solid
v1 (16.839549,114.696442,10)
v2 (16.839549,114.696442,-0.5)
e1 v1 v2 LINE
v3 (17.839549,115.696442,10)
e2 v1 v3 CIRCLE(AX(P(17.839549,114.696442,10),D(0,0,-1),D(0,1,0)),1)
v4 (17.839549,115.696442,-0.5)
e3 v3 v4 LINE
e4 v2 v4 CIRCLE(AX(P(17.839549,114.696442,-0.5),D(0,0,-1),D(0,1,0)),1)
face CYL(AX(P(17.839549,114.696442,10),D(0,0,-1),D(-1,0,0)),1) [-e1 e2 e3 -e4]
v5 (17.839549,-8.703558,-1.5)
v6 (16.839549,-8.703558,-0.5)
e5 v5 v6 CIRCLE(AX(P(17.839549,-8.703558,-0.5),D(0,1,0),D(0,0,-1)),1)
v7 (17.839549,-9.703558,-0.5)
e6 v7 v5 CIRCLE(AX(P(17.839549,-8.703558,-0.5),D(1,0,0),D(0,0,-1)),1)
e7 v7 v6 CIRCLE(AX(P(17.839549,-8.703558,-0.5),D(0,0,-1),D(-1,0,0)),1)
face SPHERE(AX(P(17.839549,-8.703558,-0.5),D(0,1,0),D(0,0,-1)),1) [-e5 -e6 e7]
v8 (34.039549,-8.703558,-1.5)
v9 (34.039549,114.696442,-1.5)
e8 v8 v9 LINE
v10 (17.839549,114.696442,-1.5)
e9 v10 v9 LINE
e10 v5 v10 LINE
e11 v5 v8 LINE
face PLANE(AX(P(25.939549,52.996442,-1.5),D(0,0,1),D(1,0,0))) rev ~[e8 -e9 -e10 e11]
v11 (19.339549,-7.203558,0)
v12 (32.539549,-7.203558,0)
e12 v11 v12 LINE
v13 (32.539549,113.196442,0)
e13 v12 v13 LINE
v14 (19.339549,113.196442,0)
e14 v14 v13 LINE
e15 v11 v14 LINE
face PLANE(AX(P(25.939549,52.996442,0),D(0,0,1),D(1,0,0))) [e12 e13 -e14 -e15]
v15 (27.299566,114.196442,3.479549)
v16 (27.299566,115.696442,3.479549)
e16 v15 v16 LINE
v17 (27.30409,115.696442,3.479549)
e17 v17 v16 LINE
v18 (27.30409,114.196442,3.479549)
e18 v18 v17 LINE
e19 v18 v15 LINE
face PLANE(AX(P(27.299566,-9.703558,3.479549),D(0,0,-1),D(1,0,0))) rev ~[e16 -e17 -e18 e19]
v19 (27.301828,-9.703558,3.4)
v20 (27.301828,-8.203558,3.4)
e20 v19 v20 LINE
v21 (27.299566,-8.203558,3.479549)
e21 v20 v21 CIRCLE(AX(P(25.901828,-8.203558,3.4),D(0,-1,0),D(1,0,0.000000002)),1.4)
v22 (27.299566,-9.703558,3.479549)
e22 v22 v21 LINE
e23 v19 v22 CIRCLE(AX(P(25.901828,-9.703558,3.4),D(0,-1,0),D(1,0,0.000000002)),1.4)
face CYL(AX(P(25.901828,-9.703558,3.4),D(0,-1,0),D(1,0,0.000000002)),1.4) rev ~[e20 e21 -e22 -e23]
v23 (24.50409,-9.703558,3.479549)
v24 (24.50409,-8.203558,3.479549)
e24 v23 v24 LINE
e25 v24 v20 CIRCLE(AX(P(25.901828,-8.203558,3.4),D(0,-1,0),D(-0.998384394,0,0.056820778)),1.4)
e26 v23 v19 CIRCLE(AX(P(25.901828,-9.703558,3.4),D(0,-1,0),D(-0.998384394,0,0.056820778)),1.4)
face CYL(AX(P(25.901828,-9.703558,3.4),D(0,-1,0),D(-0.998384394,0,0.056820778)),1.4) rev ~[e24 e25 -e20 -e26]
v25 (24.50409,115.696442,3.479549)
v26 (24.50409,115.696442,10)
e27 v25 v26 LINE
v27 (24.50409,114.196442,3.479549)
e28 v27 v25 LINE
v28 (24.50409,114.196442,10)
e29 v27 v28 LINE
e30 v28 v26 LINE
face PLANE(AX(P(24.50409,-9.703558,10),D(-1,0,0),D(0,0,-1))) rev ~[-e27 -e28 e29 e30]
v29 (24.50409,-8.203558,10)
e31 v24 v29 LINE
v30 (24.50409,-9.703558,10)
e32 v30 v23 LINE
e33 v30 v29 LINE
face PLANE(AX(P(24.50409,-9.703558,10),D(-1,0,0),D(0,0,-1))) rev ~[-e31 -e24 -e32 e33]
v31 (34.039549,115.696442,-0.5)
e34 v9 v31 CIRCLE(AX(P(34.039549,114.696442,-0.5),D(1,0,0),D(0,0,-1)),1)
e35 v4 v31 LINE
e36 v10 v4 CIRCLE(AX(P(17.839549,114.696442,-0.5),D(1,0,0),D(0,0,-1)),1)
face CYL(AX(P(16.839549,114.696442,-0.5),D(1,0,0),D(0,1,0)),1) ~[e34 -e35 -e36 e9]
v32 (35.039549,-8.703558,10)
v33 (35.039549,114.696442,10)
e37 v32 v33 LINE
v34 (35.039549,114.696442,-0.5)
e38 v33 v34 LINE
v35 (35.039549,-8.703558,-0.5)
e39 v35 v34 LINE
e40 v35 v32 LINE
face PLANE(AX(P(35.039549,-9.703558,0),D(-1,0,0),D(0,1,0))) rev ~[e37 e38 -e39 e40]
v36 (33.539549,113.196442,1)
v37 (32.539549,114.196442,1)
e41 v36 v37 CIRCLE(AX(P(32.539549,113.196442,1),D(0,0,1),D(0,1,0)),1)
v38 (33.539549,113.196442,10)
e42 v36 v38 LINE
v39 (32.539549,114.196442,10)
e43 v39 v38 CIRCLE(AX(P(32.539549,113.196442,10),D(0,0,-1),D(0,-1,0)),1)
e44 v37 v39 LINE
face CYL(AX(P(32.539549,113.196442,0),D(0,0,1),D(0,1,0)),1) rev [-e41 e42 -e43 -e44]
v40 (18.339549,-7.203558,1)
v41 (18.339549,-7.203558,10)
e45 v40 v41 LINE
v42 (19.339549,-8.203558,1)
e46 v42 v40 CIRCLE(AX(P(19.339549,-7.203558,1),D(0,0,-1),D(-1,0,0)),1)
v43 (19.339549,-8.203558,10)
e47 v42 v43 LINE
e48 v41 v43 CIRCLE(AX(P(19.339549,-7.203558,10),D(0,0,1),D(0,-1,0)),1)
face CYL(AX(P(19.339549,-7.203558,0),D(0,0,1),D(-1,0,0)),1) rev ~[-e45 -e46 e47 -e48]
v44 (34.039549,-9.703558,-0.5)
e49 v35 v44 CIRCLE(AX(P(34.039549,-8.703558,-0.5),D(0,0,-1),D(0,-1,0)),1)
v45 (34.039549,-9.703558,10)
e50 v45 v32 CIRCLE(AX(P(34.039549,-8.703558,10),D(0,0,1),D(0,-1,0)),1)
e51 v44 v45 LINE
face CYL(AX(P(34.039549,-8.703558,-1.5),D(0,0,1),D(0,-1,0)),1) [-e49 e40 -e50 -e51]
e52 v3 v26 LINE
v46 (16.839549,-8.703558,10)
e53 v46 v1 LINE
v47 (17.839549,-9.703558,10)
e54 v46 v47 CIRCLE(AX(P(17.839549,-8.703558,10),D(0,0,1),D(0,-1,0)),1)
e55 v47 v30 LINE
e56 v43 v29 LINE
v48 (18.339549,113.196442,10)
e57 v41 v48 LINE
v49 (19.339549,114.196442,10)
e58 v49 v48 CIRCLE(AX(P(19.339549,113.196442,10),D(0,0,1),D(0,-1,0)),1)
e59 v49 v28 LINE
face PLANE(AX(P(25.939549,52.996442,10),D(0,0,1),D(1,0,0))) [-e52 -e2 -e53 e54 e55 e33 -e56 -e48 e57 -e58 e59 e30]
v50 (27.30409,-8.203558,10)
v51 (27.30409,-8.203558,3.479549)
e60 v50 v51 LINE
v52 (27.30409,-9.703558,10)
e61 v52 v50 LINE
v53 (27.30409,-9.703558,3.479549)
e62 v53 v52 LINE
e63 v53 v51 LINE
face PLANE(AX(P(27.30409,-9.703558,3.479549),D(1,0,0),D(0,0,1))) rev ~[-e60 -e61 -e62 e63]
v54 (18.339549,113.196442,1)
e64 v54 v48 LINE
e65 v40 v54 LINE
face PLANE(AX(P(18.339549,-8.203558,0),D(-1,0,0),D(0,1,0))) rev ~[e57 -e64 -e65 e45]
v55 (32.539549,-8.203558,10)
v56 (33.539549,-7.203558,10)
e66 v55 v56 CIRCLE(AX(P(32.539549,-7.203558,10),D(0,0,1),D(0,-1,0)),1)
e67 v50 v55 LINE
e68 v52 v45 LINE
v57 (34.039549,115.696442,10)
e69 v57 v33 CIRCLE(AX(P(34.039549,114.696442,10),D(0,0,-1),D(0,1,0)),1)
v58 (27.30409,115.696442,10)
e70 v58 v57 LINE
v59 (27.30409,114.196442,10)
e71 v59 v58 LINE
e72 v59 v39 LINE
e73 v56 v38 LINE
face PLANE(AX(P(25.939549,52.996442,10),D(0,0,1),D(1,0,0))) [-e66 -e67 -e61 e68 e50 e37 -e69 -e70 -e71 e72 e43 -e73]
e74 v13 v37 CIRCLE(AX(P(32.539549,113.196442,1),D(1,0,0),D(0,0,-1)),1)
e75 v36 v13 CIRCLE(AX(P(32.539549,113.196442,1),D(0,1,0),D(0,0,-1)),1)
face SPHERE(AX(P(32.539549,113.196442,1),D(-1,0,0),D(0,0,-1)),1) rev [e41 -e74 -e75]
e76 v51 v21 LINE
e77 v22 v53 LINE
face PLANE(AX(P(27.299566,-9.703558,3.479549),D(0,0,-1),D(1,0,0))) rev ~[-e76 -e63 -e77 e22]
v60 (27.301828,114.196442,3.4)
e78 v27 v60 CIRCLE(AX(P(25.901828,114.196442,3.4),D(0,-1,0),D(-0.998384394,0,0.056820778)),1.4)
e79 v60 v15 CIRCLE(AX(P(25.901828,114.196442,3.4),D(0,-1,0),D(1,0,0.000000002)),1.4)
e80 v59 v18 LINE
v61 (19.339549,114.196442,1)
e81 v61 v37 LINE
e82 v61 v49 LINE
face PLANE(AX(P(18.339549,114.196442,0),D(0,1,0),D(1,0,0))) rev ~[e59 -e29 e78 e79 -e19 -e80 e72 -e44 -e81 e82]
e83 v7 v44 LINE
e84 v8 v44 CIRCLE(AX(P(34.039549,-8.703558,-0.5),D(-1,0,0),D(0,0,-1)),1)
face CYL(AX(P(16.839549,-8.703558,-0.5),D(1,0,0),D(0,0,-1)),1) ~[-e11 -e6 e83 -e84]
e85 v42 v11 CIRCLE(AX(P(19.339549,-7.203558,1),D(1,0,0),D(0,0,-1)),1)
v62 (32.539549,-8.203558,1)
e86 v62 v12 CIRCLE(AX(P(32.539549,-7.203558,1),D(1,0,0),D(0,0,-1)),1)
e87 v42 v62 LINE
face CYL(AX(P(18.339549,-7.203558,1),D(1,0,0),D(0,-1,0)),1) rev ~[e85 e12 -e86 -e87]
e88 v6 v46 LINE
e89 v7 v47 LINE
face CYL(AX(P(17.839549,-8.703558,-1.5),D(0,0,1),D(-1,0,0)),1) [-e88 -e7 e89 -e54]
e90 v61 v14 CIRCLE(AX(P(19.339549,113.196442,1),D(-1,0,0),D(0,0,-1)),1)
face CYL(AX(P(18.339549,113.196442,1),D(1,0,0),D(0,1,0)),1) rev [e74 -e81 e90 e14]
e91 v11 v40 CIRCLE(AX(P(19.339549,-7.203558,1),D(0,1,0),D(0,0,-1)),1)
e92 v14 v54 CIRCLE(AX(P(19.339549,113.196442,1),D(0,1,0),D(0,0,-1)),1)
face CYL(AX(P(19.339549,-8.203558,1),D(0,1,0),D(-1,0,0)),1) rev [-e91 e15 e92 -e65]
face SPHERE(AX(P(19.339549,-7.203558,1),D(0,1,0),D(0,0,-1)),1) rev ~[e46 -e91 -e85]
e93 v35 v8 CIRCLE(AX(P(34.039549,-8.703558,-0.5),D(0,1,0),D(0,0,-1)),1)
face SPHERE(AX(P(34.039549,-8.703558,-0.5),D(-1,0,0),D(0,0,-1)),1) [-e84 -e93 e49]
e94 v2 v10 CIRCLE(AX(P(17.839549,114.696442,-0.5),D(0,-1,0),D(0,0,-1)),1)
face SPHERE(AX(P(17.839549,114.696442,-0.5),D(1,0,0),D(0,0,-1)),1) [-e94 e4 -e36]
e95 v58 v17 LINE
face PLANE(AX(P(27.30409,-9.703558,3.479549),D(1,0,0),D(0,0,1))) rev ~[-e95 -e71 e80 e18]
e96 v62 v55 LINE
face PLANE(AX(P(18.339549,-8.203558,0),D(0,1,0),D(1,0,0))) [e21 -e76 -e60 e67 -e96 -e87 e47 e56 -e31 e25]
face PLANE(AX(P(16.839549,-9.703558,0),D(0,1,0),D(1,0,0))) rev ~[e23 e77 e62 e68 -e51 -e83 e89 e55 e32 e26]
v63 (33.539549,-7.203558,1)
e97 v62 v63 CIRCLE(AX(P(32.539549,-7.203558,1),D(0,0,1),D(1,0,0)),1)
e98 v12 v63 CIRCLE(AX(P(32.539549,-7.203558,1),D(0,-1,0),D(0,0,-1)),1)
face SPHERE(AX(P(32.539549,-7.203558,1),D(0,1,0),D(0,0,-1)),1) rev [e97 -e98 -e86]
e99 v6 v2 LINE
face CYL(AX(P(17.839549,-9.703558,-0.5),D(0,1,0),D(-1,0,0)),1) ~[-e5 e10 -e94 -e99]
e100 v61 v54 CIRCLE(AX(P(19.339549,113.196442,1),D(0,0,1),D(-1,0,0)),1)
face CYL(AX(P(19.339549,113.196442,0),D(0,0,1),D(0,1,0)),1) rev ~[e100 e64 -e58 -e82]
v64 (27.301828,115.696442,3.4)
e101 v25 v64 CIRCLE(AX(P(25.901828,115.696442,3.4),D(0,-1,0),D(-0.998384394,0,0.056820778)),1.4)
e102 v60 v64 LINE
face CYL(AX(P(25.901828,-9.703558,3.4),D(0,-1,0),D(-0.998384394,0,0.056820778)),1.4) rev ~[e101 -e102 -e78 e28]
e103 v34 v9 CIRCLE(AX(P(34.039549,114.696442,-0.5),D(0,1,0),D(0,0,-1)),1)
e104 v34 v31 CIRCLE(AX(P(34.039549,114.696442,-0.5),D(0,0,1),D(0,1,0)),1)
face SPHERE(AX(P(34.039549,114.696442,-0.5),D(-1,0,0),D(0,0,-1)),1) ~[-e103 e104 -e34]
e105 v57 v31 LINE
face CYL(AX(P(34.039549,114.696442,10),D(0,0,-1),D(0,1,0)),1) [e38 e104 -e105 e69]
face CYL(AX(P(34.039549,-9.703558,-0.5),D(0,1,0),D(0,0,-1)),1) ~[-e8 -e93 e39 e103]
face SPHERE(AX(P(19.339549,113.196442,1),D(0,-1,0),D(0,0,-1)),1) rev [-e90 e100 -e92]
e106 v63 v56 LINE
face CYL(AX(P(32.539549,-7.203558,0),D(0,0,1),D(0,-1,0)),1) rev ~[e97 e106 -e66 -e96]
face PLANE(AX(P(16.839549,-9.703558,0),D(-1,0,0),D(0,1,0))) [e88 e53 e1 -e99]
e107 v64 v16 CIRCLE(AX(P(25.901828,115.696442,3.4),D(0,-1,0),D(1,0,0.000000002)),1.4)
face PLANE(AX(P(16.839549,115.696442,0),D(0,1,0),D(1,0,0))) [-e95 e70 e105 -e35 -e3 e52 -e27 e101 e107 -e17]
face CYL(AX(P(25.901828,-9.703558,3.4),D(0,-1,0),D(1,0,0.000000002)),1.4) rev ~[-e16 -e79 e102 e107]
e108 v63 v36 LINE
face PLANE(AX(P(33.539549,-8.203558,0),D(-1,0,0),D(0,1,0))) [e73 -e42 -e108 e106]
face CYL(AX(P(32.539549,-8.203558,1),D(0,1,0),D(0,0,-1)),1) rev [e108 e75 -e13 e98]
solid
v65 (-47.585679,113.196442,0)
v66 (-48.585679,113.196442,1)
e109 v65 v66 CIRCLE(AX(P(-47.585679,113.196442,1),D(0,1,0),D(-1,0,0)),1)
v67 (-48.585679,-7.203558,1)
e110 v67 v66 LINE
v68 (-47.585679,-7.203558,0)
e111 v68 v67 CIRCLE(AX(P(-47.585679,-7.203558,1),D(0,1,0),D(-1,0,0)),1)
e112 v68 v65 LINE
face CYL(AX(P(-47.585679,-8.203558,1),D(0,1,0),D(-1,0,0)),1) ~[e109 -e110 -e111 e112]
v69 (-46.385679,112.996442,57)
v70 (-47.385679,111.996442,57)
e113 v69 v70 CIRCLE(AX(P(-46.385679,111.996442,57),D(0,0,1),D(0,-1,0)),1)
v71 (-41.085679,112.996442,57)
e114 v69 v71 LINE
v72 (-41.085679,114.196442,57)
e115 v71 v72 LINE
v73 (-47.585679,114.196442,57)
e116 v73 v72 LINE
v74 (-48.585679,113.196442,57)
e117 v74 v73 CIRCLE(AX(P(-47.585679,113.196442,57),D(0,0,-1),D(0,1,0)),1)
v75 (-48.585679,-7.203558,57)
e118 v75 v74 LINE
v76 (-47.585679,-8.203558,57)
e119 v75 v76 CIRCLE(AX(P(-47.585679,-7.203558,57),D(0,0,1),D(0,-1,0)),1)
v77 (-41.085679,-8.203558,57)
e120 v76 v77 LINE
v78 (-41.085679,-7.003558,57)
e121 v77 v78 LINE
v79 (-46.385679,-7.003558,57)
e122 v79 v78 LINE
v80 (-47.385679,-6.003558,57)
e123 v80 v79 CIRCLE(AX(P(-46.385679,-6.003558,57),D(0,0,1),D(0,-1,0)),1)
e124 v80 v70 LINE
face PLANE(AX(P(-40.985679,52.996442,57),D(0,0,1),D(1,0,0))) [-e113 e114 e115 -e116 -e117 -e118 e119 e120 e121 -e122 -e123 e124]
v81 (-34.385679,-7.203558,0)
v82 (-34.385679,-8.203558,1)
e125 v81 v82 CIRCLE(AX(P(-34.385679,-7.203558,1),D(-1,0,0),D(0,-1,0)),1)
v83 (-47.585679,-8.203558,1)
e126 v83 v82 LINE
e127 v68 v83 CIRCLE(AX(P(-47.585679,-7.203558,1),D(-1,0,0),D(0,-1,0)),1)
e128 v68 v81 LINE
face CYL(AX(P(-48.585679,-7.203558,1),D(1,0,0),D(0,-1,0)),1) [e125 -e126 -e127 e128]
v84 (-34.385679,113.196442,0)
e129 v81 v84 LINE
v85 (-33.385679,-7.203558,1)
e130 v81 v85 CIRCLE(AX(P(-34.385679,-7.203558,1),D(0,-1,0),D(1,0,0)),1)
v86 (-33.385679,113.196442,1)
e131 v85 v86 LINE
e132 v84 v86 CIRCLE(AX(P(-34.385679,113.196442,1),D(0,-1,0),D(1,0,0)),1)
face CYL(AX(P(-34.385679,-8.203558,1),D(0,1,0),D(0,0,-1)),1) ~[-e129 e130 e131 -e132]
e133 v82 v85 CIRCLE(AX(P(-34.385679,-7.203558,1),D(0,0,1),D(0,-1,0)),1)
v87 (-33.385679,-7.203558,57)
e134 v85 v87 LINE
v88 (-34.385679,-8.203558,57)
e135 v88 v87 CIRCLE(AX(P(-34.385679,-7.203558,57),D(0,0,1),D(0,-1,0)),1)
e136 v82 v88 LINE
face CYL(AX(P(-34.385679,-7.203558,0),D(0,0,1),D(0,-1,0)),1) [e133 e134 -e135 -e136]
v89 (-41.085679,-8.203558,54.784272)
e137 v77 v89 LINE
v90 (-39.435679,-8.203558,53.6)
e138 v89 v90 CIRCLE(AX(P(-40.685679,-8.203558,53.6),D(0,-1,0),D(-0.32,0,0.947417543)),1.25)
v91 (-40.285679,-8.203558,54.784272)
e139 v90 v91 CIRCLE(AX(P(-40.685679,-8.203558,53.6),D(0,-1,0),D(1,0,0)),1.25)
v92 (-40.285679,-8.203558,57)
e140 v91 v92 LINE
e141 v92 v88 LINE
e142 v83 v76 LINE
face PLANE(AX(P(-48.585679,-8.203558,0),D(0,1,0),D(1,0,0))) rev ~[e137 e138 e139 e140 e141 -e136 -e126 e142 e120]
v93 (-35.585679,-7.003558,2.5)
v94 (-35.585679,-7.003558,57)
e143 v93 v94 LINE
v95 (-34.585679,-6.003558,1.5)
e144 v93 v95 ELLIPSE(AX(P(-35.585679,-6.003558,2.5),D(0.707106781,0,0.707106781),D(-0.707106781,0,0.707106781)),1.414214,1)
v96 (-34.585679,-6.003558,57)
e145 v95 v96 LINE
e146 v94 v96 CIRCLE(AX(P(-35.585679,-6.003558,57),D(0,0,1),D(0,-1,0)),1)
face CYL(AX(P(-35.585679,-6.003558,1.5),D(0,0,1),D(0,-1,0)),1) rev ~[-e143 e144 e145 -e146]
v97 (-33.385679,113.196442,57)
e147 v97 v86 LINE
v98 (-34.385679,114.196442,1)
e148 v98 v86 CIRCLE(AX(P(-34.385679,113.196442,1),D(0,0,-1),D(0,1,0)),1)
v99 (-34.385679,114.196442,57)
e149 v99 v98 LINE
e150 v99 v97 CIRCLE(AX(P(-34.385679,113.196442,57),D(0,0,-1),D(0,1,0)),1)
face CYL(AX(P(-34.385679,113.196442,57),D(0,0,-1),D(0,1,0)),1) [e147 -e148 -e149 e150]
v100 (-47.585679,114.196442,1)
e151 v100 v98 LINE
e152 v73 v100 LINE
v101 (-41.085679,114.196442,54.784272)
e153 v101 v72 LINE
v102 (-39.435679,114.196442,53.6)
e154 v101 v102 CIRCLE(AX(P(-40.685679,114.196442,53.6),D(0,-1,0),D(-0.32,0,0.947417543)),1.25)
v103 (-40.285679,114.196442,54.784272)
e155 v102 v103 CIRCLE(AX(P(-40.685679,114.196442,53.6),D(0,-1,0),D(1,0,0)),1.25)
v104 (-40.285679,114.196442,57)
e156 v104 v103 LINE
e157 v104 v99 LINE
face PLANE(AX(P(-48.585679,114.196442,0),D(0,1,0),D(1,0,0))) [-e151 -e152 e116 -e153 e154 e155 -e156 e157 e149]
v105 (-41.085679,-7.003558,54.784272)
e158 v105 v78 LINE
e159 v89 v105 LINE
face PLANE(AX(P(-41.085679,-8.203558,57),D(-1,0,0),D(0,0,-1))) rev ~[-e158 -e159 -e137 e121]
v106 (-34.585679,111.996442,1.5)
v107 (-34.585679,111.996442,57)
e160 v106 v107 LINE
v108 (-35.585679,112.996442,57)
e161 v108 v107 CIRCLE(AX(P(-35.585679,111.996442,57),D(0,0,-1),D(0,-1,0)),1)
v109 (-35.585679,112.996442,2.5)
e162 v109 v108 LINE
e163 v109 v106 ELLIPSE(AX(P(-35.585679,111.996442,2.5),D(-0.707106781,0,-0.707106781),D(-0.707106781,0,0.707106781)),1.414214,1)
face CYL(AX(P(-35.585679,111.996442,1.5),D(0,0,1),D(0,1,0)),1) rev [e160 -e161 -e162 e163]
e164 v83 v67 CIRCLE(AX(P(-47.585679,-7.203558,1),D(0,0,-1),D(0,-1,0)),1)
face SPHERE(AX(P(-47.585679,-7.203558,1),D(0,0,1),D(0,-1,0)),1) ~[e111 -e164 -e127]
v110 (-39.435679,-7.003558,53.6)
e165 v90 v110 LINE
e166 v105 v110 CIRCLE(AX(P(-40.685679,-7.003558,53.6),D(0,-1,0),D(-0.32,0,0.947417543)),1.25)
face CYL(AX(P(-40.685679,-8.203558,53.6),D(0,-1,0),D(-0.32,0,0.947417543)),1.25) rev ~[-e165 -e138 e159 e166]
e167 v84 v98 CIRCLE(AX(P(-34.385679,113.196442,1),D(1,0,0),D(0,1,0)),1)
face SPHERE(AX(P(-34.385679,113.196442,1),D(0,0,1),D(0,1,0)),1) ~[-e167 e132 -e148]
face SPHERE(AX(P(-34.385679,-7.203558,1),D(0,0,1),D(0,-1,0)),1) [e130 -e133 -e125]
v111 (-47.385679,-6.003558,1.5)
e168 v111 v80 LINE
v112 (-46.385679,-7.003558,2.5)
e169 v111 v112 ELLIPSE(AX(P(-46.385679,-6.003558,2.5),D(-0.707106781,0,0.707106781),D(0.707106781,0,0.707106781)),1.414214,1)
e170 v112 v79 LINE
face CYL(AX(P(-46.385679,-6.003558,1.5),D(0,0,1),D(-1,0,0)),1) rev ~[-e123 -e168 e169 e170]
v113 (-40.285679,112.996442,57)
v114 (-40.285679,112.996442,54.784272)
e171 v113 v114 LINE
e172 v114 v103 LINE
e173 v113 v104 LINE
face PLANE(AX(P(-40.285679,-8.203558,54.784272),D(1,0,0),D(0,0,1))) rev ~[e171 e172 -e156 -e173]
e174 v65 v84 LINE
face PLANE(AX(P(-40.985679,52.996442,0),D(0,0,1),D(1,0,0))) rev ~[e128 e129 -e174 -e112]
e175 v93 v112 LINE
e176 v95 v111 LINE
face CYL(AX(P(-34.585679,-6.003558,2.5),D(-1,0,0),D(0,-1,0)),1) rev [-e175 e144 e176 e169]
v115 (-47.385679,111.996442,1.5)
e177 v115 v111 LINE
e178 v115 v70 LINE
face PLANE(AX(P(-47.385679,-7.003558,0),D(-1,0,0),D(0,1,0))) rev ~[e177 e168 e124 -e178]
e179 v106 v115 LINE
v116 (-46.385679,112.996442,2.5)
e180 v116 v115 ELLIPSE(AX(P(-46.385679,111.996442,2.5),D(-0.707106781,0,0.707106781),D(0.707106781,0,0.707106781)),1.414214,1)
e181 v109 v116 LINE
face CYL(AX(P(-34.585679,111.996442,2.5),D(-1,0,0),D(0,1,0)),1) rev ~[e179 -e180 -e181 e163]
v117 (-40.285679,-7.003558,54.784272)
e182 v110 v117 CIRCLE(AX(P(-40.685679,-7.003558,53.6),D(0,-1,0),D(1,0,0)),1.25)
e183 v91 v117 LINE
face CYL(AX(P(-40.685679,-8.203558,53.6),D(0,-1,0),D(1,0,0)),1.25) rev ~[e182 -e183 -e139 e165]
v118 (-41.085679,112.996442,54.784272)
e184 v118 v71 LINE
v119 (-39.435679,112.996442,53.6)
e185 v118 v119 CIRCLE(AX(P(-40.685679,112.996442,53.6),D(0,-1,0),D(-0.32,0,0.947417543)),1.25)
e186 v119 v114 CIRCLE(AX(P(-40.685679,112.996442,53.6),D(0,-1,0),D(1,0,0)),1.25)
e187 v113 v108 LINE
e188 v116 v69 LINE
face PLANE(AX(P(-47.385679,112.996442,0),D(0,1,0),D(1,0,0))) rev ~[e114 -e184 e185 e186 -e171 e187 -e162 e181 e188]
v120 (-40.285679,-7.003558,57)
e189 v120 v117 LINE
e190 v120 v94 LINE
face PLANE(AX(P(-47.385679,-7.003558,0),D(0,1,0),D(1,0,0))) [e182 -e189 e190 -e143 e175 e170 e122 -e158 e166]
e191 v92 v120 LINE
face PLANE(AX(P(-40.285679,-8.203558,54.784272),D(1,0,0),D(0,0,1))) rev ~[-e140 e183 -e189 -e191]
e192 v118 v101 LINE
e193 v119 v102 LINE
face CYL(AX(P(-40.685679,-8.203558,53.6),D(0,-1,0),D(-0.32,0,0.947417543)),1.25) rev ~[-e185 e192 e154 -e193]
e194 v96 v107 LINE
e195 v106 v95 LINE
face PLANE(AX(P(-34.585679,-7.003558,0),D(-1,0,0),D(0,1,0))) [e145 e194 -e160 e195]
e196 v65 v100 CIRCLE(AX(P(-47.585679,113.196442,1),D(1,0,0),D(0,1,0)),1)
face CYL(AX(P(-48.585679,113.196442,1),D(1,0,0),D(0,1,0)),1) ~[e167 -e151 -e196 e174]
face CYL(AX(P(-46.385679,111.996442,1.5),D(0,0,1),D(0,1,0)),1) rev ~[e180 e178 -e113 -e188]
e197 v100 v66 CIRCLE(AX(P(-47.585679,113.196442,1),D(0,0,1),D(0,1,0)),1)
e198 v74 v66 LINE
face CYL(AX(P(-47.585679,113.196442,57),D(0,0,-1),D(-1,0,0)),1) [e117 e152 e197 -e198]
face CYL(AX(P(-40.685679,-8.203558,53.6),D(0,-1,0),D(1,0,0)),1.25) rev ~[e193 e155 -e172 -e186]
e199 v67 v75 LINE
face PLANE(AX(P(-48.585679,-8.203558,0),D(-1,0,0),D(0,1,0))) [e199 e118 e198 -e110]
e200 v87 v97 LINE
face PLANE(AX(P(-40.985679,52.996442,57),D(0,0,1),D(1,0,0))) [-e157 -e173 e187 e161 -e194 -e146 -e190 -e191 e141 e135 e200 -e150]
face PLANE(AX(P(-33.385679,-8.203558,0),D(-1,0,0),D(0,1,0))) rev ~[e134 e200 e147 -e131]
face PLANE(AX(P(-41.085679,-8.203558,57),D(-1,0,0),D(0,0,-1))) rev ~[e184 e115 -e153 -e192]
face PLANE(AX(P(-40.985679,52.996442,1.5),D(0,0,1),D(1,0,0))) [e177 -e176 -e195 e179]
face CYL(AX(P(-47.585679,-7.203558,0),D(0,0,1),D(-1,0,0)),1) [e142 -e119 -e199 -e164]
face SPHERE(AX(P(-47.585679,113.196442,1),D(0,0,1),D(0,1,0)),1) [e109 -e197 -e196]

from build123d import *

# Parameters (mm, degrees)
F0_W     = 15.2
F0_H     = 122.4
F0_W_2   = 12.8
F0_H_2   = 120
F1_DEPTH = 1.5
F2_DEPTH = 57
F4_DEPTH = 122.401
F0_W_3   = 18.2
F0_H_3   = 125.4
F5_DEPTH = 1.5
F6_DEPTH = 10
F8_DEPTH = 125.401
F9_R     = 1
F9_2_R   = 1


with BuildPart() as f1:
    # F0 (on Top) → F1 (new body)
    with BuildSketch(Plane.XY):
        with Locations((-40.9856793821, 52.9964423075)):
            Rectangle(F0_W, F0_H)
        with Locations((-40.9856793821, 52.9964423075)):
            Rectangle(F0_W_2, F0_H_2, mode=Mode.SUBTRACT)
        with Locations((-40.9856793821, 52.9964423075)):
            Rectangle(F0_W_2, F0_H_2)
    extrude(amount=F1_DEPTH)

    # F0 (on Top) → F2 (join)
    with BuildSketch(Plane.XY):
        with Locations((-40.9856793821, 52.9964423075)):
            Rectangle(F0_W, F0_H)
        with Locations((-40.9856793821, 52.9964423075)):
            Rectangle(F0_W_2, F0_H_2, mode=Mode.SUBTRACT)
    extrude(amount=F2_DEPTH)

    # F3 (on face) → F4 (cut, through all)
    with BuildSketch(Plane.XZ.offset(8.2035576925)):
        with BuildLine():
            ThreePointArc((-41.0856793821, 54.7842719282), (-41.4145483689, 52.5844951994), (-39.4356793821, 53.6))
            ThreePointArc((-39.4356793821, 53.6), (-39.6701745815, 54.3288689869), (-40.2856793821, 54.7842719282))
            Line((-40.2856793821, 54.7842719282), (-40.2856793821, 53.6))
            Line((-40.2856793821, 53.6), (-41.0856793821, 53.6))
            Line((-41.0856793821, 53.6), (-41.0856793821, 54.7842719282))
        make_face()
        with BuildLine():
            ThreePointArc((-41.0856793821, 54.7842719282), (-40.6856793821, 54.85), (-40.2856793821, 54.7842719282))
            Line((-40.2856793821, 54.7842719282), (-40.2856793821, 57))
            Line((-40.2856793821, 57), (-41.0856793821, 57))
            Line((-41.0856793821, 57), (-41.0856793821, 54.7842719282))
        make_face()
        with BuildLine():
            Line((-40.2856793821, 53.6), (-40.2856793821, 54.7842719282))
            ThreePointArc((-40.2856793821, 54.7842719282), (-40.6856793821, 54.85), (-41.0856793821, 54.7842719282))
            Line((-41.0856793821, 54.7842719282), (-41.0856793821, 53.6))
            Line((-41.0856793821, 53.6), (-40.2856793821, 53.6))
        make_face()
    extrude(amount=-F4_DEPTH, mode=Mode.SUBTRACT)

    # F9
    f9_edges = [f1.edges().sort_by_distance(p)[0] for p in [
        (-33.385679, -8.203558, 28.5),
        (-48.585679, -8.203558, 28.5),
        (-33.385679, 114.196442, 28.5),
        (-47.385679, 112.996442, 29.25),
        (-48.585679, 114.196442, 28.5),
        (-34.585679, -7.003558, 29.25),
        (-47.385679, -7.003558, 29.25),
        (-34.585679, 112.996442, 29.25),
        (-40.985679, -7.003558, 1.5),
        (-40.985679, 112.996442, 1.5),
        (-40.985679, -8.203558, 0),
        (-40.985679, 114.196442, 0),
        (-48.585679, 52.996442, 0),
        (-33.385679, 52.996442, 0),
    ]]
    fillet(f9_edges, radius=F9_R)


with BuildPart() as f5:
    # F0 (on Top) → F5 (new body)
    with BuildSketch(Plane.XY):
        with Locations((25.9395489454, 52.9964423075)):
            Rectangle(F0_W_3, F0_H_3)
        with Locations((25.9395489454, 52.9964423075)):
            Rectangle(F0_W, F0_H, mode=Mode.SUBTRACT)
        with Locations((25.9395489454, 52.9964423075)):
            Rectangle(F0_W, F0_H)
    extrude(amount=-F5_DEPTH)

    # F0 (on Top) → F6 (join)
    with BuildSketch(Plane.XY):
        with Locations((25.9395489454, 52.9964423075)):
            Rectangle(F0_W_3, F0_H_3)
        with Locations((25.9395489454, 52.9964423075)):
            Rectangle(F0_W, F0_H, mode=Mode.SUBTRACT)
    extrude(amount=F6_DEPTH)

    # F7 (on face) → F8 (cut, through all)
    with BuildSketch(Plane.XZ.offset(9.7035576925)):
        with BuildLine():
            ThreePointArc((27.2995661135, 3.4795490896), (25.9018279612, 4.8), (24.5040898089, 3.4795490896))
            Line((24.5040898089, 3.4795490896), (27.2995661135, 3.4795490896))
        make_face()
        with BuildLine():
            Line((27.2995661135, 3.4795490896), (24.5040898089, 3.4795490896))
            ThreePointArc((24.5040898089, 3.4795490896), (25.8620373417, 2.0005655762), (27.3018279612, 3.4))
            ThreePointArc((27.3018279612, 3.4), (27.301262385, 3.4397906195), (27.2995661135, 3.4795490896))
        make_face()
        with BuildLine():
            Line((24.5040898089, 10), (24.5040898089, 3.4795490896))
            ThreePointArc((24.5040898089, 3.4795490896), (25.9018279612, 4.8), (27.2995661135, 3.4795490896))
            Line((27.2995661135, 3.4795490896), (27.3040898089, 3.4795490896))
            Line((27.3040898089, 3.4795490896), (27.3040898089, 10))
            Line((27.3040898089, 10), (24.5040898089, 10))
        make_face()
    extrude(amount=-F8_DEPTH, mode=Mode.SUBTRACT)

    # F9#2
    f9_2_edges = [f5.edges().sort_by_distance(p)[0] for p in [
        (18.339549, 52.996442, 0),
        (25.939549, 114.196442, 0),
        (33.539549, 52.996442, 0),
        (25.939549, -8.203558, 0),
        (25.939549, 115.696442, -1.5),
        (16.839549, 52.996442, -1.5),
        (25.939549, -9.703558, -1.5),
        (35.039549, 52.996442, -1.5),
        (35.039549, -9.703558, 4.25),
        (16.839549, -9.703558, 4.25),
        (35.039549, 115.696442, 4.25),
        (16.839549, 115.696442, 4.25),
        (18.339549, -8.203558, 5),
        (33.539549, -8.203558, 5),
        (18.339549, 114.196442, 5),
        (33.539549, 114.196442, 5),
    ]]
    fillet(f9_2_edges, radius=F9_2_R)


solid = Compound([f1.part, f5.part])
